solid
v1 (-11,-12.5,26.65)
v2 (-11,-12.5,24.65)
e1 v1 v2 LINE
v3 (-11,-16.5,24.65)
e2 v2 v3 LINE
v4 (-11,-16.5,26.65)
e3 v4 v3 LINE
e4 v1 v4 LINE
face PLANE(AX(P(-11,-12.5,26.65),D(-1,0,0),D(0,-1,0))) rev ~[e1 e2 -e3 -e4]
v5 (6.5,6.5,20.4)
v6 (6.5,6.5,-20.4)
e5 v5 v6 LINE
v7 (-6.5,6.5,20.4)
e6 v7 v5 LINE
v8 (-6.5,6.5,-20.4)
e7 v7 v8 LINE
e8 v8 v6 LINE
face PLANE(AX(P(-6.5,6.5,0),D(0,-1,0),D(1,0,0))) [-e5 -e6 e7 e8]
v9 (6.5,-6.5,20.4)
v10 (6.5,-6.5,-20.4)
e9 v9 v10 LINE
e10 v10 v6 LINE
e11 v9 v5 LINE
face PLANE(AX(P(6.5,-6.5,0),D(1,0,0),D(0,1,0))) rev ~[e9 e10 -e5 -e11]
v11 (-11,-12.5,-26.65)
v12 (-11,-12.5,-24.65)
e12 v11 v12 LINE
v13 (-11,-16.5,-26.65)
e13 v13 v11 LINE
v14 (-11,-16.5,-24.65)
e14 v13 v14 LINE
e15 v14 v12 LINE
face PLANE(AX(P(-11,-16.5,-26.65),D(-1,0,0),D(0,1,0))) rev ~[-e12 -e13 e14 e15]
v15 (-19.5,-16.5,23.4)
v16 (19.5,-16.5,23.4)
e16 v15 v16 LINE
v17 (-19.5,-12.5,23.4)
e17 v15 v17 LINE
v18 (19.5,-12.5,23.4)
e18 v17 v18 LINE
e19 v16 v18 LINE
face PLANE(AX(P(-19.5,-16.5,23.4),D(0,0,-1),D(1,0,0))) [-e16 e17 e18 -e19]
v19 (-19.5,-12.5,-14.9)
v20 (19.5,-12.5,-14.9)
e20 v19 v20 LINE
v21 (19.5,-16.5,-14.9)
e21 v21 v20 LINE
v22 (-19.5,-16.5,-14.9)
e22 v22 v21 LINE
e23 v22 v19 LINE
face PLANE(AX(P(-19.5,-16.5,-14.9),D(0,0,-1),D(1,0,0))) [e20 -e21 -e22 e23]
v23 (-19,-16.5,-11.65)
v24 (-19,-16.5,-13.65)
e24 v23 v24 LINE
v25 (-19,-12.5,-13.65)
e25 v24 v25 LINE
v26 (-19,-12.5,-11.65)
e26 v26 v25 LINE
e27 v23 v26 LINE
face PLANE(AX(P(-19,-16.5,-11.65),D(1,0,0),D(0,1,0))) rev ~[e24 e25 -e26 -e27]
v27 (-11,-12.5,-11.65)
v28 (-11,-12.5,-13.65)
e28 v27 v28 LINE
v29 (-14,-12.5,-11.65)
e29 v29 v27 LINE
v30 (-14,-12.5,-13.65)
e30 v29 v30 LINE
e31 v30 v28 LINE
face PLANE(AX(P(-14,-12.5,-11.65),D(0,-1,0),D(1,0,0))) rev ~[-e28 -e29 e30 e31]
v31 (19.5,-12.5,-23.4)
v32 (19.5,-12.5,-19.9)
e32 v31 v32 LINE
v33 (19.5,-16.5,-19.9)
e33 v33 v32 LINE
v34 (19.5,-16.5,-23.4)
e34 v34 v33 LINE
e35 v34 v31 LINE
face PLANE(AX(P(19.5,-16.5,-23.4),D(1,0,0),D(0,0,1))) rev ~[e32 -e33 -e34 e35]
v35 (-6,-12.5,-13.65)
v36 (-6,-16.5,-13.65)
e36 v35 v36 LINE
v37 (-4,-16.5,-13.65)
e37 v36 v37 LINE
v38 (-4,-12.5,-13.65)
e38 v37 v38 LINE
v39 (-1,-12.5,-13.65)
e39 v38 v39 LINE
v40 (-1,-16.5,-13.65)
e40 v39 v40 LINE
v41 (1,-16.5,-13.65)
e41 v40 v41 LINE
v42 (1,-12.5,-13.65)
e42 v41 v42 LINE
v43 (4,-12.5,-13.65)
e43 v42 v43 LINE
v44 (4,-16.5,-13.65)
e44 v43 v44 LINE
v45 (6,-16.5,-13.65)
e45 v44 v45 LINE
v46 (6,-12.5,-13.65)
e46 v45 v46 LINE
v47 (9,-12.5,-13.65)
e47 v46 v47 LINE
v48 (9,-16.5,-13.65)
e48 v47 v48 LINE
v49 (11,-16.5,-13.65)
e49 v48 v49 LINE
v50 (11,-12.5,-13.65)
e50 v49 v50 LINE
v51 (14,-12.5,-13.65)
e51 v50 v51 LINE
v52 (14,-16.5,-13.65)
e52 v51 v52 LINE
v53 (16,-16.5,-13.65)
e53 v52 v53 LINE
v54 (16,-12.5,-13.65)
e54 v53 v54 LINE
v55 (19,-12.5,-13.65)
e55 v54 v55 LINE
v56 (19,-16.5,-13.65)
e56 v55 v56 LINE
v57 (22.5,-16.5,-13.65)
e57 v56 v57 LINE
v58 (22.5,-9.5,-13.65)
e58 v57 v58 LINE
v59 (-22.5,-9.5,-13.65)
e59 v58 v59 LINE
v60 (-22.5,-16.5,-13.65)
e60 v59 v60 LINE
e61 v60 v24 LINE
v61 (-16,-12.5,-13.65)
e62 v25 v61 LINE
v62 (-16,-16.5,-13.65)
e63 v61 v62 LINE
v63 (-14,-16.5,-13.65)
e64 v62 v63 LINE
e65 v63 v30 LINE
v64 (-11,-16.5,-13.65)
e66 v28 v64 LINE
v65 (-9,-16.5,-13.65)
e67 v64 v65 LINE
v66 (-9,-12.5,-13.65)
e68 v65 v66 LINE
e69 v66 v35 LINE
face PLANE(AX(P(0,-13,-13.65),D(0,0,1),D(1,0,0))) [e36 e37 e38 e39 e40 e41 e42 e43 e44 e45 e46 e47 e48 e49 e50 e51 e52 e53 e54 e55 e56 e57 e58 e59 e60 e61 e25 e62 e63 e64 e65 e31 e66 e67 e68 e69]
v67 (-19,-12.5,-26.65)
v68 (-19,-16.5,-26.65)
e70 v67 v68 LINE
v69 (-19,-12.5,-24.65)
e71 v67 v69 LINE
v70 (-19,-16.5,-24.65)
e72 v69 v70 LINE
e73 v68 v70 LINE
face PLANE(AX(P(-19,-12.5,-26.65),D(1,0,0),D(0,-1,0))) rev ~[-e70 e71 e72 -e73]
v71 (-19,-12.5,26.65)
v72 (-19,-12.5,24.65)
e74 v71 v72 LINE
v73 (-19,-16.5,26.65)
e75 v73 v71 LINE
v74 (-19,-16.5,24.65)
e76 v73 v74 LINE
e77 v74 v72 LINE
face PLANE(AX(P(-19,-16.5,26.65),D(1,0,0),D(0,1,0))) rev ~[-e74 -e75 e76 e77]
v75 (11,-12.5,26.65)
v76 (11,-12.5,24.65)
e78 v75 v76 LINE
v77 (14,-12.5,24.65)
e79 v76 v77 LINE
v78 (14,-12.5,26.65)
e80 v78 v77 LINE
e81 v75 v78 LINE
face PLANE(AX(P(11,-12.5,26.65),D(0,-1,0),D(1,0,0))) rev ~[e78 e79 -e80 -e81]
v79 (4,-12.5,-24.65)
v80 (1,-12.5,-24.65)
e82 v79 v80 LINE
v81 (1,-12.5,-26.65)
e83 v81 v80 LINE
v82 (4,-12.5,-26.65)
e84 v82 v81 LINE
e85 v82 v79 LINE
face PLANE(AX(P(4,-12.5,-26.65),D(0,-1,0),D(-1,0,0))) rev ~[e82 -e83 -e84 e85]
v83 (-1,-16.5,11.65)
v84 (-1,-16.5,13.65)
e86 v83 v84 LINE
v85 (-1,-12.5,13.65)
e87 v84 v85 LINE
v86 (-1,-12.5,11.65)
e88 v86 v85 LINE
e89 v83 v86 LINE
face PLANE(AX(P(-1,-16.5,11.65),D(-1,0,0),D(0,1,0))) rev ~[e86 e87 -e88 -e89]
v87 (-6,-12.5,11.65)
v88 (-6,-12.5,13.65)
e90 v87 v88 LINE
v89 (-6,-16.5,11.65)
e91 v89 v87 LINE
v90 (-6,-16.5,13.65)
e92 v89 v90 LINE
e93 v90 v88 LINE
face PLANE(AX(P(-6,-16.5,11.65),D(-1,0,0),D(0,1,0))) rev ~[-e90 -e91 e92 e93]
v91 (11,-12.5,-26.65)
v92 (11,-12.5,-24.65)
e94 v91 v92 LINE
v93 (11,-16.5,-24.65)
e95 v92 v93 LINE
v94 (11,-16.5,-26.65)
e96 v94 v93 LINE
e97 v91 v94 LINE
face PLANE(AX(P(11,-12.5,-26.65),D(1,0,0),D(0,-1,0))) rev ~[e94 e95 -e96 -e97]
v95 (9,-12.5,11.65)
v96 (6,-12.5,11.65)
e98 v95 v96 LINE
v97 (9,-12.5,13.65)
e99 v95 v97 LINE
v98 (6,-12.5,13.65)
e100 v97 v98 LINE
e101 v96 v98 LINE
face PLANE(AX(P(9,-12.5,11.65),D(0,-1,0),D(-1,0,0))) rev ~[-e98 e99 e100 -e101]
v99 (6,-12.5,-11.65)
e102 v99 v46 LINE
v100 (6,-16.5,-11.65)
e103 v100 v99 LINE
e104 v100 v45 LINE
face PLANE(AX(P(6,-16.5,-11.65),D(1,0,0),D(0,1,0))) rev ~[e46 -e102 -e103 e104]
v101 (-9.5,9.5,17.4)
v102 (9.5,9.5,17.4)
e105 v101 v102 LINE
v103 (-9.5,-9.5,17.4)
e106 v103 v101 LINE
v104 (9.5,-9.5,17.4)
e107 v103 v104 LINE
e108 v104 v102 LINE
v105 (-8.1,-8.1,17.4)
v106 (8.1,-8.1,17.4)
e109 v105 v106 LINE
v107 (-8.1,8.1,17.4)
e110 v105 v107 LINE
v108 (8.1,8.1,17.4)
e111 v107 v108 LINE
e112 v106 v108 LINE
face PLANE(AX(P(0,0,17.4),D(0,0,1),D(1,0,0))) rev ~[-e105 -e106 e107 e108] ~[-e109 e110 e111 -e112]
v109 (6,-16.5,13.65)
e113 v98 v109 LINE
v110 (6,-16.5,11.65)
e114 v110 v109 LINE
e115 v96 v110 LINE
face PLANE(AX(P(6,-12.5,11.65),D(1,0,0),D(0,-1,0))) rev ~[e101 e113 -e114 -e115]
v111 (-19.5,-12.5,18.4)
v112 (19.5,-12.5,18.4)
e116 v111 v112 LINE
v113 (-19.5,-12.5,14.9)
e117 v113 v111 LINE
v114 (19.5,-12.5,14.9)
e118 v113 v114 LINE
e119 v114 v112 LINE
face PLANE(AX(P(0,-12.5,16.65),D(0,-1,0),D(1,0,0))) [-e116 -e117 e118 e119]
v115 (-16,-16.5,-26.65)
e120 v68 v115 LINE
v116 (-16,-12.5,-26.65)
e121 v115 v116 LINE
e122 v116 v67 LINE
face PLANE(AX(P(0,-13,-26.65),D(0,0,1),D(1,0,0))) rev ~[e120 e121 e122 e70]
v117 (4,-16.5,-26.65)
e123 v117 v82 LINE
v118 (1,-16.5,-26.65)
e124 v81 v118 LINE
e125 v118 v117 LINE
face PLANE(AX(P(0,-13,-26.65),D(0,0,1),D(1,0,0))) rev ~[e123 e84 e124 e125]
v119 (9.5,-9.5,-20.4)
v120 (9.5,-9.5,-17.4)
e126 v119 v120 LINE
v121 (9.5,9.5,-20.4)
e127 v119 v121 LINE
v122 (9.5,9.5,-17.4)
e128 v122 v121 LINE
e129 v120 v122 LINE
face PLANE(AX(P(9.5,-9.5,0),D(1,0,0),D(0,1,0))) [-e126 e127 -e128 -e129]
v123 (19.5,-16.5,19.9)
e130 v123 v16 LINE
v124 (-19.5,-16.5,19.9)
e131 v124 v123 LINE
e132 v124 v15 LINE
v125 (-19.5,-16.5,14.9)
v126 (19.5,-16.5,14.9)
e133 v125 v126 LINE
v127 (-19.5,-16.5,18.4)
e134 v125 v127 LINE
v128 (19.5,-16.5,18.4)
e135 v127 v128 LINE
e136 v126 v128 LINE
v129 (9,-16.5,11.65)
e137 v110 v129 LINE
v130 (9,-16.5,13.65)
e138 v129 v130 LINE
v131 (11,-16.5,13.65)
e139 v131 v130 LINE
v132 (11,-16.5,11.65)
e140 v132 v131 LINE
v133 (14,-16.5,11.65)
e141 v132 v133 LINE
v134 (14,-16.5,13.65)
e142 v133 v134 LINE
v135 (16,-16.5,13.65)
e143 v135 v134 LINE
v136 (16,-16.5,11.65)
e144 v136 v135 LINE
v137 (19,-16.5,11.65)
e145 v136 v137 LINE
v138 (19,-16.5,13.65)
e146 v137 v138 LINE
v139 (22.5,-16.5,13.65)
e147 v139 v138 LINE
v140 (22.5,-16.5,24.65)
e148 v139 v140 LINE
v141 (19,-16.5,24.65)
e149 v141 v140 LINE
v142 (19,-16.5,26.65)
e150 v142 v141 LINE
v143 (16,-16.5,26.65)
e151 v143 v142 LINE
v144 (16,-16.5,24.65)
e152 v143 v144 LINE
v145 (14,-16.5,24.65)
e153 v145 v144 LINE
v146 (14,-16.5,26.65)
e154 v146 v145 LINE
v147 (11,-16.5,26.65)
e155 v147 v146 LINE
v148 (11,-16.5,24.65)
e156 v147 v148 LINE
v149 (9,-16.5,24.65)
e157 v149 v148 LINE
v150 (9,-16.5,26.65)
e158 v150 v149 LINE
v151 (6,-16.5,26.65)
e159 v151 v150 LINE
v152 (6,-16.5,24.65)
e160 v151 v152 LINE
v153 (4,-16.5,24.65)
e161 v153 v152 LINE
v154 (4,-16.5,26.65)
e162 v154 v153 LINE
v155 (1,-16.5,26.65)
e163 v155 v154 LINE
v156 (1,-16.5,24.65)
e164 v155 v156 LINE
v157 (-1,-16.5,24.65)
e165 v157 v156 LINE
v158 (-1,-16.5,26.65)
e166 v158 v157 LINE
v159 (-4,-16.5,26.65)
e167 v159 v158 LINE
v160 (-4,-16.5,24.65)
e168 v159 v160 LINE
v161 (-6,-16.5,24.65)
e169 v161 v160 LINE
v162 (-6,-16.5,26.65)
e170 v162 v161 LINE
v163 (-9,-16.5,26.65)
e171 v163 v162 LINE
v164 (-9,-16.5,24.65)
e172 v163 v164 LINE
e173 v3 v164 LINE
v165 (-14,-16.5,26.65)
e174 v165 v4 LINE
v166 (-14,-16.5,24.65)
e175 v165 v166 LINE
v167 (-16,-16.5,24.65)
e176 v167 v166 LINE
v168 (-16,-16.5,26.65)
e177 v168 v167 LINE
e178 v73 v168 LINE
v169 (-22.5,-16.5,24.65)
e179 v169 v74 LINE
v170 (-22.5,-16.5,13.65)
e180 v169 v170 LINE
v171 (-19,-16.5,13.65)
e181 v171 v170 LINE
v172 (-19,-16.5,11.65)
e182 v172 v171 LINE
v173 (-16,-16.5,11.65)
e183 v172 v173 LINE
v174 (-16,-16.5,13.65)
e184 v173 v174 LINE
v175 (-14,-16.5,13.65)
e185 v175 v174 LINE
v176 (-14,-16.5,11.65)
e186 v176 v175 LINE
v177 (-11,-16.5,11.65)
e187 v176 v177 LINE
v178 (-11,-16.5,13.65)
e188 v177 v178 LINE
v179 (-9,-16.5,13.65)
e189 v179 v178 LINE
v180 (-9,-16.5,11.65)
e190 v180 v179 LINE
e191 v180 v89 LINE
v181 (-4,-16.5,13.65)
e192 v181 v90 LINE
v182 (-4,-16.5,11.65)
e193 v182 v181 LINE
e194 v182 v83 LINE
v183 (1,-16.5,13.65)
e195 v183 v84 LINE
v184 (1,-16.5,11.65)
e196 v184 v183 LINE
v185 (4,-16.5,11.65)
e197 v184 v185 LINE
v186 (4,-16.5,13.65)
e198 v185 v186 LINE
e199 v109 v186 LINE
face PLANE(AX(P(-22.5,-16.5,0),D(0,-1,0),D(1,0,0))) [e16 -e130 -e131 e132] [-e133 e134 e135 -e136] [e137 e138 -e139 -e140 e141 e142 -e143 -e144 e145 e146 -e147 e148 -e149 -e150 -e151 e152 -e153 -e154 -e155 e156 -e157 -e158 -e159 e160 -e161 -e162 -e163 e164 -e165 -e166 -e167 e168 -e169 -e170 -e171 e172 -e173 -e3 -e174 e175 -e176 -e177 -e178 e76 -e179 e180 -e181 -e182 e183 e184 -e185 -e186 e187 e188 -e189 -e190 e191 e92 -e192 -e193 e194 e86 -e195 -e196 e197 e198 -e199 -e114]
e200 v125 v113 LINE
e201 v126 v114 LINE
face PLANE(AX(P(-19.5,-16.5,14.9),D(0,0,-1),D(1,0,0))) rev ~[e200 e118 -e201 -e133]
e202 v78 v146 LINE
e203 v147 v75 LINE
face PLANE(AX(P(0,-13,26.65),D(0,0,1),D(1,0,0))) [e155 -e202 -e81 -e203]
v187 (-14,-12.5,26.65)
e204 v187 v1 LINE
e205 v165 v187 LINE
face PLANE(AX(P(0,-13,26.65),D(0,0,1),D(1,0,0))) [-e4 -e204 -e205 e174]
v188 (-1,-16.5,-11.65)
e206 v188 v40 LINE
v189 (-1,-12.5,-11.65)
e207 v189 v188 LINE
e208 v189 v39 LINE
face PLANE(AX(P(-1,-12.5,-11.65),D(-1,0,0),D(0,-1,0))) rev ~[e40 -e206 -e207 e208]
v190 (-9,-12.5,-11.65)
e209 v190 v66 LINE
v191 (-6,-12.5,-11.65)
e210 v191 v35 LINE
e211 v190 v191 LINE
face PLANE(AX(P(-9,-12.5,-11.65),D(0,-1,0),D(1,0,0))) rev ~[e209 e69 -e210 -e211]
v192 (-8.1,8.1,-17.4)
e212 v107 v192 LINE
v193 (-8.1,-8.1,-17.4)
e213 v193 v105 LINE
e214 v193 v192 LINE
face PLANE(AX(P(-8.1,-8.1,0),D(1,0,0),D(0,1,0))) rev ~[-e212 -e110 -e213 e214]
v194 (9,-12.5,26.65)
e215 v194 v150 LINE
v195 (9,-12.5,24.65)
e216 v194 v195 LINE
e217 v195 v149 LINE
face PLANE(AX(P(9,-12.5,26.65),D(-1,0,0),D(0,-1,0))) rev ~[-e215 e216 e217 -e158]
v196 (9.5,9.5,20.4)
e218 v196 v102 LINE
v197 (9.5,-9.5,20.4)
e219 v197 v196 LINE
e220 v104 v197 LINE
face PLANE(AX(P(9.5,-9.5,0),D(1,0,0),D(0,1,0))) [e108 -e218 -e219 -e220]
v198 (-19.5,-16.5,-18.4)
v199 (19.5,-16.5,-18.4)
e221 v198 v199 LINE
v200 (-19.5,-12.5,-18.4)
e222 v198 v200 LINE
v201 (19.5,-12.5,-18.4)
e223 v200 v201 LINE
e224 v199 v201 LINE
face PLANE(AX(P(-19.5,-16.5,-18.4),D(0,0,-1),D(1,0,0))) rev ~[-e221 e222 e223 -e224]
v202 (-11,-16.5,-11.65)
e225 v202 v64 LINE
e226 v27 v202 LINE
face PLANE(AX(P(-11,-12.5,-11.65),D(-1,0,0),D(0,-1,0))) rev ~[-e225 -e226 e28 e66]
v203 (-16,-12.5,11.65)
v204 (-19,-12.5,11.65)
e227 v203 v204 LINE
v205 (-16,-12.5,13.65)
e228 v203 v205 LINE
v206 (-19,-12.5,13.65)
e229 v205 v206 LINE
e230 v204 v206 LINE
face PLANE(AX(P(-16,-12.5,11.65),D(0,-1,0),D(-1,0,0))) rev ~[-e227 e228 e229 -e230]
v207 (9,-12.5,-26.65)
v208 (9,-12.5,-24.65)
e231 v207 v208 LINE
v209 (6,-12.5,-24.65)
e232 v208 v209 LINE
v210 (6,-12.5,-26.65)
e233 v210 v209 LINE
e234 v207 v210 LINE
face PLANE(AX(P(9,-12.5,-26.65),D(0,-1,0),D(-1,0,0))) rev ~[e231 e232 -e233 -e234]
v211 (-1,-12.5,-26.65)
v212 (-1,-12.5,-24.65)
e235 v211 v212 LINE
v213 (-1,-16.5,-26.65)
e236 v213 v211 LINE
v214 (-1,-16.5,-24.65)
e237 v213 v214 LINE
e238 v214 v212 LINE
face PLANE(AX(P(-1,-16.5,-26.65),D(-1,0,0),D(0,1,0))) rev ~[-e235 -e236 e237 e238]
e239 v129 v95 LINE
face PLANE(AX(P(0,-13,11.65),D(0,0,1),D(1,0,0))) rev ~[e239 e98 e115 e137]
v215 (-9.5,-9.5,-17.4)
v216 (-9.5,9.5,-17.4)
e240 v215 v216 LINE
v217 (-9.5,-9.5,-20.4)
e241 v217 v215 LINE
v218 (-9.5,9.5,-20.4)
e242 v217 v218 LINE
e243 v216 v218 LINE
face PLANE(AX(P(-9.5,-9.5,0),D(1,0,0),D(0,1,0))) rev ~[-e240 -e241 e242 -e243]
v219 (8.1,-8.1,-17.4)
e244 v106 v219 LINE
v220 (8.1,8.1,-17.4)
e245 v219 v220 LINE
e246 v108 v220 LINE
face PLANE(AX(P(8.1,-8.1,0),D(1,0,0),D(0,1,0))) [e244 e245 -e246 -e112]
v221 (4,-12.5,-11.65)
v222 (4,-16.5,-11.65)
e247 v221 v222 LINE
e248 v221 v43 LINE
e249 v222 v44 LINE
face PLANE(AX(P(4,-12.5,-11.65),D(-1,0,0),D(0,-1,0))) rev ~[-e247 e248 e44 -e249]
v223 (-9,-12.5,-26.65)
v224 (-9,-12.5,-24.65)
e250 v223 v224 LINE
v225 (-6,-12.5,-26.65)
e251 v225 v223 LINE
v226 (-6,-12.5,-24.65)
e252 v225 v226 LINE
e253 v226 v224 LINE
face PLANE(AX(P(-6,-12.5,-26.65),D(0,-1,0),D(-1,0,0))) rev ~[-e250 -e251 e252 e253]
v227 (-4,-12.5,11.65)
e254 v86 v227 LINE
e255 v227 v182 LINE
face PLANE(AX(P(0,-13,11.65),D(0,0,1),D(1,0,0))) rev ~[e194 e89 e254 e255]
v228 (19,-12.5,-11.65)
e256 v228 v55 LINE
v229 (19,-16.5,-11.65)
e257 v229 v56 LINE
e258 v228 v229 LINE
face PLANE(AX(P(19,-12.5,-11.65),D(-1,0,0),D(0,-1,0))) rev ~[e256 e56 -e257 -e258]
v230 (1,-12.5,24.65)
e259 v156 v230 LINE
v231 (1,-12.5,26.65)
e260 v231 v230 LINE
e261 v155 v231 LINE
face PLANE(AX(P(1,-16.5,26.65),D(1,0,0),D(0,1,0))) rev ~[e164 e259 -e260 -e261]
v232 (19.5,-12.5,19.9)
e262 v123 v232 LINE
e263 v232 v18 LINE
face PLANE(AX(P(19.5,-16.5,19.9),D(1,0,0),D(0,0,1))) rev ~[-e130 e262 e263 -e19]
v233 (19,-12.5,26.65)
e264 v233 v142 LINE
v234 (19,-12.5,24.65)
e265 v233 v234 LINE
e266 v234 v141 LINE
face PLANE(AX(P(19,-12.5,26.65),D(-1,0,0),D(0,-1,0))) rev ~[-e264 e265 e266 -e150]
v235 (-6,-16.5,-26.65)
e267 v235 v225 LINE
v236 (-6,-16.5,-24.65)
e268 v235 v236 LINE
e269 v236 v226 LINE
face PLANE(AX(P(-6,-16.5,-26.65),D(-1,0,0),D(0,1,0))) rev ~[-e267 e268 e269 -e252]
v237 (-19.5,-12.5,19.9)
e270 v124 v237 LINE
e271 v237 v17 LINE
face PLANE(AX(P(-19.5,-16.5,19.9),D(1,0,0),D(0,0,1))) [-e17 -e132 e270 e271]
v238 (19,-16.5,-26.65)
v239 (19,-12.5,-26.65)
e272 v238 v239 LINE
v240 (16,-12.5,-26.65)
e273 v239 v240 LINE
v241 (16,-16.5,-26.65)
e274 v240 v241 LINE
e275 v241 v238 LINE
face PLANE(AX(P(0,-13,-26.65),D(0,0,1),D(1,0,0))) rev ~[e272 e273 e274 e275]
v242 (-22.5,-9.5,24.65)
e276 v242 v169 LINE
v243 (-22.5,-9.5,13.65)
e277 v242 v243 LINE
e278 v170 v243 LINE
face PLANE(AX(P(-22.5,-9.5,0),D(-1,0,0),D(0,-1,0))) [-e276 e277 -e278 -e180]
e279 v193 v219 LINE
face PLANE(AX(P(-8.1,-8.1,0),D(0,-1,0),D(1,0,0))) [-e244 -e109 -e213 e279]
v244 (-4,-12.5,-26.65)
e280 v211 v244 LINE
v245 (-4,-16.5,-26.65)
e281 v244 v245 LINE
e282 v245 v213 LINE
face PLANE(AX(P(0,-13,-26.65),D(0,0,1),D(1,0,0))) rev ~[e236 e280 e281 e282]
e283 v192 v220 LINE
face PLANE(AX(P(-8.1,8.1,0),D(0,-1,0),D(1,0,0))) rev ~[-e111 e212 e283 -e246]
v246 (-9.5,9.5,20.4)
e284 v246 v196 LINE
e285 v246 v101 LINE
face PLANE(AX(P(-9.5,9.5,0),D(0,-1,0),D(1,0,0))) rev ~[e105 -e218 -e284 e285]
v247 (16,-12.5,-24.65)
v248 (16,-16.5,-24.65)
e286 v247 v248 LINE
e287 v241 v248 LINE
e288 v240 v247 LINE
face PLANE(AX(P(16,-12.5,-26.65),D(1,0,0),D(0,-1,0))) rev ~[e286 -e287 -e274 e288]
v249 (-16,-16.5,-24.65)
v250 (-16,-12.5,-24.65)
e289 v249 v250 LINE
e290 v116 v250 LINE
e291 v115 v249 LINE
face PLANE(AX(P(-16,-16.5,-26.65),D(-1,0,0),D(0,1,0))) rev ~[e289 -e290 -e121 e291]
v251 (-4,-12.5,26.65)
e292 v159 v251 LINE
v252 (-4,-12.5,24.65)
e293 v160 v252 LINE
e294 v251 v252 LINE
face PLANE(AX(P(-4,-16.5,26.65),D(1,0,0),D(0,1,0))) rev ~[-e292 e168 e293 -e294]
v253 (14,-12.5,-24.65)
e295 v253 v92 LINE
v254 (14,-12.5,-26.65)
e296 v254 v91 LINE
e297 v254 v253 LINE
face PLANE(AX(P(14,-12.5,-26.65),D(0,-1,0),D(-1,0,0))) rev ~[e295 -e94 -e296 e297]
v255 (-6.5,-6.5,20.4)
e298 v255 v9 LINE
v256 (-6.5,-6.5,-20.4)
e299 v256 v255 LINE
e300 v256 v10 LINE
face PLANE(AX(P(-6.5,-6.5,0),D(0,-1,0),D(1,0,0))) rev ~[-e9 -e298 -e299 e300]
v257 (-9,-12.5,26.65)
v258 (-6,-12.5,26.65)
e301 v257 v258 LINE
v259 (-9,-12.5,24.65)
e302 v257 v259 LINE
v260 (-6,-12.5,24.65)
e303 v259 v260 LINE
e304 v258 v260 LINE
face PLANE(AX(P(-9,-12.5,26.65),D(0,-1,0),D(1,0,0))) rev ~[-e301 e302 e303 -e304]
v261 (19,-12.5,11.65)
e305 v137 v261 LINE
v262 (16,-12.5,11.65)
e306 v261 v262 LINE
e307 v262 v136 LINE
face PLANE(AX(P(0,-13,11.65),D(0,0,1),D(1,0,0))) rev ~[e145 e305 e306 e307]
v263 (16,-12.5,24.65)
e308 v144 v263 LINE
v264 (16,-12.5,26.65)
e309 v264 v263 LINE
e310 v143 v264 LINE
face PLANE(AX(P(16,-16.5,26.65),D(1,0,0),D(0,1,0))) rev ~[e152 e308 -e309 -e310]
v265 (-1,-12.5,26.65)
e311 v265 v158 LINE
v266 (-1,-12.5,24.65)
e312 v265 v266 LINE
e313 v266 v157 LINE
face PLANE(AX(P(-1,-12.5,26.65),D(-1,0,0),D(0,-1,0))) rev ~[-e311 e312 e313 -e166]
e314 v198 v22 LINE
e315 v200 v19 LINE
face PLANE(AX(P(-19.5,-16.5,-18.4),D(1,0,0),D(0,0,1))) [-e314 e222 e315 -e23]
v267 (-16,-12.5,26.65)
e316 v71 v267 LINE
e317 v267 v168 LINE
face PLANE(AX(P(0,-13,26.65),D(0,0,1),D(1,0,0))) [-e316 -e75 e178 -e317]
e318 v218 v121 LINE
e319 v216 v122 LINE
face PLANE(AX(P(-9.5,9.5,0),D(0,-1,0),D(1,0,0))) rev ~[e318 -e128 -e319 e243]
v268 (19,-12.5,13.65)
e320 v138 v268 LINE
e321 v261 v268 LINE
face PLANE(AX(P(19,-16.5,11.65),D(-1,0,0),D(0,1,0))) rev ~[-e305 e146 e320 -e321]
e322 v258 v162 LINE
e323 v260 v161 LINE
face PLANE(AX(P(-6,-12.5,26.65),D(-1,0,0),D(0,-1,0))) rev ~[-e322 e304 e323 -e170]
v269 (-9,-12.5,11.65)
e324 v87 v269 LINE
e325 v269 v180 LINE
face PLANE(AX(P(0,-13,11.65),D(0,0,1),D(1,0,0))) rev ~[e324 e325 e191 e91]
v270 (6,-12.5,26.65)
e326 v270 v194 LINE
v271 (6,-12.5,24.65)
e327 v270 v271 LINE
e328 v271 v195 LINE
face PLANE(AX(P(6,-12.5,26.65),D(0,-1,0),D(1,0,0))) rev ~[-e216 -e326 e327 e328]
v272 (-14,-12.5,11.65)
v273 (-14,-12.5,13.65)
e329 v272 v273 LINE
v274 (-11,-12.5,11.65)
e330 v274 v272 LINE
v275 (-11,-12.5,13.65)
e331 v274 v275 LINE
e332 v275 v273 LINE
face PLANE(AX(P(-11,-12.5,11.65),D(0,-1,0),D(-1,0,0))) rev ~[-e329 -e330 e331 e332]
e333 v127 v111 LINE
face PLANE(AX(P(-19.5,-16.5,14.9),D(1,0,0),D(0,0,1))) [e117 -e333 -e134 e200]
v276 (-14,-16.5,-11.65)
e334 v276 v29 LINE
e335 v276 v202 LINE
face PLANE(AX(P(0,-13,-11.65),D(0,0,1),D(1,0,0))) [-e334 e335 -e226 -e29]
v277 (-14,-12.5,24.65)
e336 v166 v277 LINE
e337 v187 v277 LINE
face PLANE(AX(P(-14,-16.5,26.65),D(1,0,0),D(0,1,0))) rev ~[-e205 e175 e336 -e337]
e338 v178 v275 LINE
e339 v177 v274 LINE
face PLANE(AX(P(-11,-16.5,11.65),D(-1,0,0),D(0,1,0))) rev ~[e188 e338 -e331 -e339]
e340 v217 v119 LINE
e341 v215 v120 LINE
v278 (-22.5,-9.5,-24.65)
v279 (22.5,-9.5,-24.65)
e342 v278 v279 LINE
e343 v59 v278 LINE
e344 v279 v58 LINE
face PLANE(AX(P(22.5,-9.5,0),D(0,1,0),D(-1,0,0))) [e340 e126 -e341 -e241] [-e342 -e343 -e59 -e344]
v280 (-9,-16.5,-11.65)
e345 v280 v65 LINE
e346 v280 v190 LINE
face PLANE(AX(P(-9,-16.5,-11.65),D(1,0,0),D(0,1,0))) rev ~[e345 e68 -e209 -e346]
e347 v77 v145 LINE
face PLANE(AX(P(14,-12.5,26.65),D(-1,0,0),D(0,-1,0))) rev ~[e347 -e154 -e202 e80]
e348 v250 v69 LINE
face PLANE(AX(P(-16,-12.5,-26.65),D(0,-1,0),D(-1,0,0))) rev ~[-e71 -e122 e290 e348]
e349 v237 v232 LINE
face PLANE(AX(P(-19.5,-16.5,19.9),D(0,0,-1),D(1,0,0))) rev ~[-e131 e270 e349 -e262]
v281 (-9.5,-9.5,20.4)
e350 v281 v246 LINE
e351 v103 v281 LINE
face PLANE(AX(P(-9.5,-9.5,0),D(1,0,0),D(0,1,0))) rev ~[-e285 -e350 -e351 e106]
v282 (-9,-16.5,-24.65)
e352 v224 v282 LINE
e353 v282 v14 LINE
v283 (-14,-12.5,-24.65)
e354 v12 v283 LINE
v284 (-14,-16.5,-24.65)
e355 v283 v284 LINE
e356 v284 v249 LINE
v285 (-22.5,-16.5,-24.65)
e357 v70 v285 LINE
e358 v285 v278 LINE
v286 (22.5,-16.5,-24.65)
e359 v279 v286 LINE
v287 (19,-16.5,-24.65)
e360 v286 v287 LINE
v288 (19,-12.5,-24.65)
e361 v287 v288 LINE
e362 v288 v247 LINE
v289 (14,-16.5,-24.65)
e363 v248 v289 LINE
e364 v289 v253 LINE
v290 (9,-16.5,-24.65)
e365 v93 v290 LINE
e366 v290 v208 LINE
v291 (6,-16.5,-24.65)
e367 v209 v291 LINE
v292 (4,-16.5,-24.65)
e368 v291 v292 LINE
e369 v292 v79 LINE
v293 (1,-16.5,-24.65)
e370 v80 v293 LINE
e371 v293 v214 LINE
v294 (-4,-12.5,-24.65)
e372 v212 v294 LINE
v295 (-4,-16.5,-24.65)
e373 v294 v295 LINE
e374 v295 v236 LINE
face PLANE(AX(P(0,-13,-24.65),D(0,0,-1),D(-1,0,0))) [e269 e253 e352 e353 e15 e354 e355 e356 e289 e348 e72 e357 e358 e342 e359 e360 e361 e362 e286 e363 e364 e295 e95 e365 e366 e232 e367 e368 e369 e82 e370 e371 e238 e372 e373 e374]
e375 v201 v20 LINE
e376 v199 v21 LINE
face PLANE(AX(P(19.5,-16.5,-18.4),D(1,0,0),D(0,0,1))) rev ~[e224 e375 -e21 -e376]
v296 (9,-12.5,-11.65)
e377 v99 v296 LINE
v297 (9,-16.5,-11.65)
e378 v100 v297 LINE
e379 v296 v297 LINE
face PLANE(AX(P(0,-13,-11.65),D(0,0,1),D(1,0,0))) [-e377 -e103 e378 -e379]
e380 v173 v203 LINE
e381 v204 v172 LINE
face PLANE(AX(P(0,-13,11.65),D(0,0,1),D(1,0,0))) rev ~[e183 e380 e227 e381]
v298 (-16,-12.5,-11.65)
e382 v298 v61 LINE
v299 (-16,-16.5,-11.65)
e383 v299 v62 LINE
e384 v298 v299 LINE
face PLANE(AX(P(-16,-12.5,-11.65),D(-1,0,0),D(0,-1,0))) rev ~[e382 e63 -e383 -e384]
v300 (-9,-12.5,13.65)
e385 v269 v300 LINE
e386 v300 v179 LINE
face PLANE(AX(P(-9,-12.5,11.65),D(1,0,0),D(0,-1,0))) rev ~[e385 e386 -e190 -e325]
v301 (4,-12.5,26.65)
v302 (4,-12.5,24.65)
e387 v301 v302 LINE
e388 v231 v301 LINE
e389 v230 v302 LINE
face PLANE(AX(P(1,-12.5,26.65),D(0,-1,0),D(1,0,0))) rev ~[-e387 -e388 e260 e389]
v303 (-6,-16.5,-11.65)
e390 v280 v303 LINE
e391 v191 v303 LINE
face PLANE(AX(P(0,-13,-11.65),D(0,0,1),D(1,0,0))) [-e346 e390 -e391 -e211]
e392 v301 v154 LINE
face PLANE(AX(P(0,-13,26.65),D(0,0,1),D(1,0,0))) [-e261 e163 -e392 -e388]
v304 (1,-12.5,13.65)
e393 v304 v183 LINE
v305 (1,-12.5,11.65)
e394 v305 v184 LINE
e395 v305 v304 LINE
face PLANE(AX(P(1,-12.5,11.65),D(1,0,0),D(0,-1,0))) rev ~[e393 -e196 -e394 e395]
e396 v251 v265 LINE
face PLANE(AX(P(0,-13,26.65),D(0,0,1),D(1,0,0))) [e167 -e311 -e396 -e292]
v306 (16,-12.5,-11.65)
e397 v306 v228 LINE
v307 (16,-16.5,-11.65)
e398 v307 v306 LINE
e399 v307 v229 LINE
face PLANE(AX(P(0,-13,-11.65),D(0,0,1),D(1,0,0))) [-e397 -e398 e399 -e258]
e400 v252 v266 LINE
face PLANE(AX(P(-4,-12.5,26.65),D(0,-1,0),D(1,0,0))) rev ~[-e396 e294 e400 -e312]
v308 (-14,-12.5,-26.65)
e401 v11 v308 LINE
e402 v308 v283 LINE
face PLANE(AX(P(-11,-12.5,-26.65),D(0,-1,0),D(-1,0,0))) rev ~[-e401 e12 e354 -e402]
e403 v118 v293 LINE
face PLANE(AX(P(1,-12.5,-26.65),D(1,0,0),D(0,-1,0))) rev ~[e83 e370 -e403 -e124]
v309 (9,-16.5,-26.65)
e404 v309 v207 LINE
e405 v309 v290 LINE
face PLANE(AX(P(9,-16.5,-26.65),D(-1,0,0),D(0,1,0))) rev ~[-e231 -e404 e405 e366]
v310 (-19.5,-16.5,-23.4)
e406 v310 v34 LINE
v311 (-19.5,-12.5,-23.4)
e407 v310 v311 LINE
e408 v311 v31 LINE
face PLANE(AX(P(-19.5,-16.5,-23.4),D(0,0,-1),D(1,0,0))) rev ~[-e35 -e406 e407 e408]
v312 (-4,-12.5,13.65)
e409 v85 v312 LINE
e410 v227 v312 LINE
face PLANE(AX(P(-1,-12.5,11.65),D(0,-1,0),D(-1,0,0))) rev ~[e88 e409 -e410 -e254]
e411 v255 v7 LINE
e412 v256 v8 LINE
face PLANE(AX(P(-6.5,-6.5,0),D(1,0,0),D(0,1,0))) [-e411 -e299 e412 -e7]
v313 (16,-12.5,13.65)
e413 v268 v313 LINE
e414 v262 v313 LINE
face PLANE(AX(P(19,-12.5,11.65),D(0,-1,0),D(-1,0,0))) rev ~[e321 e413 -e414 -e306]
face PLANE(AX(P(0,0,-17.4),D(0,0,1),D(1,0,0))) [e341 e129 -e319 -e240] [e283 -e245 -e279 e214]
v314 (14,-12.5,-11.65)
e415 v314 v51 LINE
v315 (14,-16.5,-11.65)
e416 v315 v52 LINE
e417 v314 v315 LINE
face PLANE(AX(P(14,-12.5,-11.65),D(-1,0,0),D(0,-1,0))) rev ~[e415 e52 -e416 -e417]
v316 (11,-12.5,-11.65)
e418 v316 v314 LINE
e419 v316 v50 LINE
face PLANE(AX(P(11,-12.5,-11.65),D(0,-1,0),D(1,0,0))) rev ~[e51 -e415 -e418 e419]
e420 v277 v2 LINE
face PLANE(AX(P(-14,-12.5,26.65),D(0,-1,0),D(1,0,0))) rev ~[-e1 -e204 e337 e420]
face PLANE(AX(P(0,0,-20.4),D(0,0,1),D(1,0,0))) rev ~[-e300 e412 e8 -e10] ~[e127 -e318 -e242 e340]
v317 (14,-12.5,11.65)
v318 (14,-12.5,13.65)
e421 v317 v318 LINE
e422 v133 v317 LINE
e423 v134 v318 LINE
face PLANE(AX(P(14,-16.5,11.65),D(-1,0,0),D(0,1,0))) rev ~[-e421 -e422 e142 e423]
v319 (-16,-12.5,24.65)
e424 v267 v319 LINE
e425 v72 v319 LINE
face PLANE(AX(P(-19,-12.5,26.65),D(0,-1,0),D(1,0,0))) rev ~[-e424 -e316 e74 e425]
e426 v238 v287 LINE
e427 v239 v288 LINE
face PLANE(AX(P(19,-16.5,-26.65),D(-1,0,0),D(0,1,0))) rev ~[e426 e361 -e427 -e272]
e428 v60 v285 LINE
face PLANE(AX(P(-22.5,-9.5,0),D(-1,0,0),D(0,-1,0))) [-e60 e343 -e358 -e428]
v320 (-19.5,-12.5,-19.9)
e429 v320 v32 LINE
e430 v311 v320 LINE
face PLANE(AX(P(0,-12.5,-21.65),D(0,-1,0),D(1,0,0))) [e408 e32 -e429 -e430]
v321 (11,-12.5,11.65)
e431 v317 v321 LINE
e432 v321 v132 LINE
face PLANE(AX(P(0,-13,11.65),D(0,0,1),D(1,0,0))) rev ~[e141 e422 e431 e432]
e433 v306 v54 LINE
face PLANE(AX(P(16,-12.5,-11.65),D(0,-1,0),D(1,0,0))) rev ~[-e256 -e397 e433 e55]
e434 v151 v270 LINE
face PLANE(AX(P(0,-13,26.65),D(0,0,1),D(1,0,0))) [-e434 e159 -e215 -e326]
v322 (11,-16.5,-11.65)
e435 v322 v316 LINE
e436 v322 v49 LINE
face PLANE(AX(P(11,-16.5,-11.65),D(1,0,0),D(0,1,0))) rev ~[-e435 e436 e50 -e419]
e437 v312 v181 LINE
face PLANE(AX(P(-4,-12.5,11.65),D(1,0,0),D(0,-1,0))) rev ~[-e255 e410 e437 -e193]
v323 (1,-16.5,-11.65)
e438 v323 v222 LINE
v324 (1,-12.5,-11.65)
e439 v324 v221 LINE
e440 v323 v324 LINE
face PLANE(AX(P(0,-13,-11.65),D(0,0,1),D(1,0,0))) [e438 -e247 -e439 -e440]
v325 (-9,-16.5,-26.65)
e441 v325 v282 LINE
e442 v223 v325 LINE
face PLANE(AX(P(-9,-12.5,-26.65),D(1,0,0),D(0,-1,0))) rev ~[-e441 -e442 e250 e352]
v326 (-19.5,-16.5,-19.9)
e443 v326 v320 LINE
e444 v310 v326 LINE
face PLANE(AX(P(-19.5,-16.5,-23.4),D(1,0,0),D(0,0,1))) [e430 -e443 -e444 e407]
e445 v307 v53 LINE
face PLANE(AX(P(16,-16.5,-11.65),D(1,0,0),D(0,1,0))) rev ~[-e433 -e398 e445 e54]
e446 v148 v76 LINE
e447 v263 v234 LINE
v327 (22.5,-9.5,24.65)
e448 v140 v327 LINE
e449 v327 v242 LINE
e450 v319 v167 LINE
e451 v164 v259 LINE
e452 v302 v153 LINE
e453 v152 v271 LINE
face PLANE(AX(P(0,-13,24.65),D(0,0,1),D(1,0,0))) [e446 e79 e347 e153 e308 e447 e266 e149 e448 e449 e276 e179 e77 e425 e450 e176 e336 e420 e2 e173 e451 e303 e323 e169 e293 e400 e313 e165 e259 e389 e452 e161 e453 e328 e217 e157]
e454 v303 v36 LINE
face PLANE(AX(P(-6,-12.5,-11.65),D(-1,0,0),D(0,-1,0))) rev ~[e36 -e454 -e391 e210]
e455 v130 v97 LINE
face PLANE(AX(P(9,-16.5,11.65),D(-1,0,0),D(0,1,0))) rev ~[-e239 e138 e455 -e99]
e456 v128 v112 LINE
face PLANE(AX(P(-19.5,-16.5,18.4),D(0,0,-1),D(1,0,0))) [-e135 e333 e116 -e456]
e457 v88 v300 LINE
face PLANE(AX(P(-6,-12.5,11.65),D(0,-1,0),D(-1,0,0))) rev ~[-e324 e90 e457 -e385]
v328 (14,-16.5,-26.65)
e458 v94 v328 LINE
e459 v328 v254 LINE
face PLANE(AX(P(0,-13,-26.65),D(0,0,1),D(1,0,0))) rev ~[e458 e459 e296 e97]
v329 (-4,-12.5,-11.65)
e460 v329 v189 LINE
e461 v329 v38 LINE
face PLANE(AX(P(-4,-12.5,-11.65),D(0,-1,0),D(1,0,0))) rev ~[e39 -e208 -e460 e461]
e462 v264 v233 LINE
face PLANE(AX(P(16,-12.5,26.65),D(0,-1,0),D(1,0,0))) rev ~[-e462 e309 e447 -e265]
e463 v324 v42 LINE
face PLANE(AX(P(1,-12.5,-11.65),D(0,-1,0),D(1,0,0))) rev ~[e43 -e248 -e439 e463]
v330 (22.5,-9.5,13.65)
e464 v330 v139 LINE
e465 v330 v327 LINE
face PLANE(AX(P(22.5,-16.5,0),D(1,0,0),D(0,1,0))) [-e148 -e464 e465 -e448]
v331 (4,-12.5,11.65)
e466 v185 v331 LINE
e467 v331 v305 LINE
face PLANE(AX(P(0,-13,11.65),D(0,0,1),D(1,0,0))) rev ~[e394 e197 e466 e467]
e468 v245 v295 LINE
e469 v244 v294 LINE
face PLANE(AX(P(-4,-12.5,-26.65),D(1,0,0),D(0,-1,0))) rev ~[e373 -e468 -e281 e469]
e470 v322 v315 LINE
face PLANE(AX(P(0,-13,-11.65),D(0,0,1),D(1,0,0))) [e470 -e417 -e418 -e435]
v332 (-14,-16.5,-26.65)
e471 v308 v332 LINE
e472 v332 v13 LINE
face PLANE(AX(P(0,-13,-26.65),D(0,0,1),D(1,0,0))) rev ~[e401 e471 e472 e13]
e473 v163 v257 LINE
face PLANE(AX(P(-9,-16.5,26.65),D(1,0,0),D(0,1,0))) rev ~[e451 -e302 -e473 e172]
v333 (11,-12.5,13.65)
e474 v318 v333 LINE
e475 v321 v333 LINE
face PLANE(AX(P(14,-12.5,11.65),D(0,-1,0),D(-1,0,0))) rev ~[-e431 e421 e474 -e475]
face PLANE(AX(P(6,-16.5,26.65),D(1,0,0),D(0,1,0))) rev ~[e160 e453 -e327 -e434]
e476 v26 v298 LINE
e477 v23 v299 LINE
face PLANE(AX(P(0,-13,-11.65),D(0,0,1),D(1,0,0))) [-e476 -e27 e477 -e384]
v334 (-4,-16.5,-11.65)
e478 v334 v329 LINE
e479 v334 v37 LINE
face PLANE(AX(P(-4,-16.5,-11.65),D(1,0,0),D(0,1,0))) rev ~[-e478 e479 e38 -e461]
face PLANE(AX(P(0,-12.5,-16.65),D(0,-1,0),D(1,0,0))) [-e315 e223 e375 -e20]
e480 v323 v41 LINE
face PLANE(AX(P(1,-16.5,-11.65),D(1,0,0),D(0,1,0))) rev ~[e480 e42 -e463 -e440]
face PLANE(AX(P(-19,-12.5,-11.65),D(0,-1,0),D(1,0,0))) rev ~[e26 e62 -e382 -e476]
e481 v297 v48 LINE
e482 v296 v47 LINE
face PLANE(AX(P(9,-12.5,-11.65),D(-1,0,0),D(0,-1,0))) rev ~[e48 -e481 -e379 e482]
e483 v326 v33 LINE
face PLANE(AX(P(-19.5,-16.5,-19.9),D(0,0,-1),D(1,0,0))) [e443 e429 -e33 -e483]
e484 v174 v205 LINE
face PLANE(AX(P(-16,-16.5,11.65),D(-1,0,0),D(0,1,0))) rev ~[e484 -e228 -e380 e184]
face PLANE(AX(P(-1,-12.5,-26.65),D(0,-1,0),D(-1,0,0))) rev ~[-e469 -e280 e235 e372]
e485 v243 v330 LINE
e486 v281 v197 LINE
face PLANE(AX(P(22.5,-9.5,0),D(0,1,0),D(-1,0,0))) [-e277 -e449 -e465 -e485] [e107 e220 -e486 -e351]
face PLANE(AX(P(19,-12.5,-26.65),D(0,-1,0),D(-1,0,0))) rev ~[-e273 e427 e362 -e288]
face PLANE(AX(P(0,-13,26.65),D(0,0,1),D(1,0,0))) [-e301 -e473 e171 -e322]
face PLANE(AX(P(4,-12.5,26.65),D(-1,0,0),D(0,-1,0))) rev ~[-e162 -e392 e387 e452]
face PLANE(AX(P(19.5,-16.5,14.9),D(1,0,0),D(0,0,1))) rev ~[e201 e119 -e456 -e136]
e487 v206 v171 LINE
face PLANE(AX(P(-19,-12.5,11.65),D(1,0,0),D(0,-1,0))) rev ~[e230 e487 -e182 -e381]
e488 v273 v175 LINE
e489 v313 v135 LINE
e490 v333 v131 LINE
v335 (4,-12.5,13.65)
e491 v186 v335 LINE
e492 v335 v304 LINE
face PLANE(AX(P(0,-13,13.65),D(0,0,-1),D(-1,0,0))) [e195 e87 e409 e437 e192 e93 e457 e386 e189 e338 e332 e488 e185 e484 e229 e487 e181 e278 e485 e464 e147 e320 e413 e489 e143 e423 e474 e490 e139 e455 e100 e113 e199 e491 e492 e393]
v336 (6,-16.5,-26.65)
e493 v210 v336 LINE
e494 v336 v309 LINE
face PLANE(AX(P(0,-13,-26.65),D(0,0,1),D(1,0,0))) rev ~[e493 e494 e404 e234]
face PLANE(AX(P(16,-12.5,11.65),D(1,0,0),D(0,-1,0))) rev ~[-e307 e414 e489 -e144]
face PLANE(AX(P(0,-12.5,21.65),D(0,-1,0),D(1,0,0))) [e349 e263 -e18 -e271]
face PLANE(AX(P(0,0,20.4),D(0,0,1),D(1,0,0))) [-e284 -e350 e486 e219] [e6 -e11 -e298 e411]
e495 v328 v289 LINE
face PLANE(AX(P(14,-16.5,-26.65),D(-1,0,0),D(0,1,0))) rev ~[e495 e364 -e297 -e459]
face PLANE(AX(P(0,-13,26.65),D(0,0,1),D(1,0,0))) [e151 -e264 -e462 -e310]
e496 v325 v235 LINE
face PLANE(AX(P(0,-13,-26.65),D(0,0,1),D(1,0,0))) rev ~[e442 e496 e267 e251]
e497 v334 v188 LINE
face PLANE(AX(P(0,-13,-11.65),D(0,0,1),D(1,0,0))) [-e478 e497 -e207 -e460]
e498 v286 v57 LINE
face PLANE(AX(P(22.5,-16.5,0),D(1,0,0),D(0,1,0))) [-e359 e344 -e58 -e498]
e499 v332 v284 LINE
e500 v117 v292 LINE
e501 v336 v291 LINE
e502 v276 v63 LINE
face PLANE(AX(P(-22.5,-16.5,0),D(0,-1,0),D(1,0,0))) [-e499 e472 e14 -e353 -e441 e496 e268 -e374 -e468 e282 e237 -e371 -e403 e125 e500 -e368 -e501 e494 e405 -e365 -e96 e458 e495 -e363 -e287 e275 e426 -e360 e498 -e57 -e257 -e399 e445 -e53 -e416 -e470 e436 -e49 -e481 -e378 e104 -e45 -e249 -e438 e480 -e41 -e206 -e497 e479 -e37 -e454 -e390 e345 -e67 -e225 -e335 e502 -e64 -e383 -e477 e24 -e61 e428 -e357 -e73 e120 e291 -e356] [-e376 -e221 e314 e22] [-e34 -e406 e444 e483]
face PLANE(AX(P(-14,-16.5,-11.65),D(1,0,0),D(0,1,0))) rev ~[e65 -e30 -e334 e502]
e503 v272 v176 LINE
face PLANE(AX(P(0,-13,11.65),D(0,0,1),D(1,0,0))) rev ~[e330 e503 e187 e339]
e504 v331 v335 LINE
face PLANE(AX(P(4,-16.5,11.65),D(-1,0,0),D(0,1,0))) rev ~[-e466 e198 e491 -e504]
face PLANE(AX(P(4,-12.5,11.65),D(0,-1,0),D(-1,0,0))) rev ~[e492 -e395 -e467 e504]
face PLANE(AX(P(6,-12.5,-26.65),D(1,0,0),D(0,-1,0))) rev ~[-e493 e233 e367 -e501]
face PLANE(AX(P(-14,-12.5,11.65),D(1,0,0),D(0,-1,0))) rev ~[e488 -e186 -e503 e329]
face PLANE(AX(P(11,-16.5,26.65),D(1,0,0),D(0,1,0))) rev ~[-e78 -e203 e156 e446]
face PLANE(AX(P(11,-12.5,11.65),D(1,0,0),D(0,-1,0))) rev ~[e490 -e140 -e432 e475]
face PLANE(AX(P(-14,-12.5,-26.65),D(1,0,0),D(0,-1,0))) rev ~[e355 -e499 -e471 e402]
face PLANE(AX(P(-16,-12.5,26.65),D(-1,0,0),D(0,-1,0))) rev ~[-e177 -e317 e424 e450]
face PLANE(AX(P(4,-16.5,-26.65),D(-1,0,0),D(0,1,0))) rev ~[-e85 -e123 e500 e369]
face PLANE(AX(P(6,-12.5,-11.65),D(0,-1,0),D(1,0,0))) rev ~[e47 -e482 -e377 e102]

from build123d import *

# Parameters (mm, degrees)
SKETCH_1_W           = 19
SKETCH_1_H           = 19
SKETCH_1_W_2         = 13
SKETCH_1_H_2         = 13
EXTRUDE_2_DEPTH      = 20.4
SKETCH_1_3_W         = 19
SKETCH_1_3_H         = 19
SKETCH_1_3_W_2       = 16.2
SKETCH_1_3_H_2       = 16.2
CUT_EXTRUDE_1_DEPTH  = 17.4
EXTRUDE_4_DEPTH      = 26.65
CUT_EXTRUDE_4_DEPTH  = 11.65
CUT_EXTRUDE_9_DEPTH  = 2
CUT_EXTRUDE_10_DEPTH = 2
CUT_EXTRUDE_11_DEPTH = 2
CUT_EXTRUDE_12_DEPTH = 2
SKETCH_12_W          = 39
SKETCH_12_H          = 3.5
CUT_EXTRUDE_13_DEPTH = 4


with BuildPart() as part:
    # 草图1 → 凸台-拉伸2 (new, symmetric)
    with BuildSketch(Plane.XY):
        Rectangle(SKETCH_1_W, SKETCH_1_H)
        Rectangle(SKETCH_1_W_2, SKETCH_1_H_2, mode=Mode.SUBTRACT)
    extrude(amount=EXTRUDE_2_DEPTH, both=True)

    # 草图1<3> → 切除-拉伸1 (cut, symmetric)
    with BuildSketch(Plane.XY):
        Rectangle(SKETCH_1_3_W, SKETCH_1_3_H)
        Rectangle(SKETCH_1_3_W_2, SKETCH_1_3_H_2, mode=Mode.SUBTRACT)
    extrude(amount=CUT_EXTRUDE_1_DEPTH, both=True, mode=Mode.SUBTRACT)

    # 草图2 → 凸台-拉伸4 (add, symmetric)
    with BuildSketch(Plane.XY):
        Polygon((22.5, -9.5), (0, -9.5), (-22.5, -9.5), (-22.5, -16.5), (22.5, -16.5), align=None)
    extrude(amount=EXTRUDE_4_DEPTH, both=True)

    # 草图2<6> → 切除-拉伸4 (cut, symmetric)
    with BuildSketch(Plane.XY):
        Polygon((22.5, -9.5), (0, -9.5), (-22.5, -9.5), (-22.5, -16.5), (22.5, -16.5), align=None)
    extrude(amount=CUT_EXTRUDE_4_DEPTH, both=True, mode=Mode.SUBTRACT)

    # 草图4 → 切除-拉伸9 (cut)
    with BuildSketch(Plane(origin=(0, 0, -26.65), x_dir=(-1, 0, 0), z_dir=(0, 0, -1))):
        Polygon((-6, -12.5), (-6, -16.5), (-4, -16.5), (-4, -12.5), (-2.5, -12.5), (-1, -12.5), (-1, -16.5), (1, -16.5), (1, -12.5), (2.5, -12.5), (4, -12.5), (4, -16.5), (6, -16.5), (6, -12.5), (7.5, -12.5), (9, -12.5), (9, -16.5), (11, -16.5), (11, -12.5), (12.5, -12.5), (14, -12.5), (14, -16.5), (16, -16.5), (16, -12.5), (17.5, -12.5), (19, -12.5), (19, -16.5), (22.5, -16.5), (22.5, -9.5), (-22.5, -9.5), (-22.5, -16.5), (-19, -16.5), (-19, -12.5), (-17.5, -12.5), (-16, -12.5), (-16, -16.5), (-14, -16.5), (-14, -12.5), (-12.5, -12.5), (-11, -12.5), (-11, -16.5), (-9, -16.5), (-9, -12.5), (-7.5, -12.5), align=None)
    extrude(amount=-CUT_EXTRUDE_9_DEPTH, mode=Mode.SUBTRACT)

    # 草图9 → 切除-拉伸10 (cut)
    with BuildSketch(Plane.XY.offset(-11.65)):
        Polygon((-4, -12.5), (-1, -12.5), (-1, -16.5), (1, -16.5), (1, -12.5), (4, -12.5), (4, -16.5), (6, -16.5), (6, -12.5), (9, -12.5), (9, -16.5), (11, -16.5), (11, -12.5), (14, -12.5), (14, -16.5), (16, -16.5), (16, -12.5), (19, -12.5), (19, -16.5), (22.5, -16.5), (22.5, -9.5), (-22.5, -9.5), (-22.5, -16.5), (-19, -16.5), (-19, -12.5), (-16, -12.5), (-16, -16.5), (-14, -16.5), (-14, -12.5), (-11, -12.5), (-11, -16.5), (-9, -16.5), (-9, -12.5), (-6, -12.5), (-6, -16.5), (-4, -16.5), align=None)
    extrude(amount=-CUT_EXTRUDE_10_DEPTH, mode=Mode.SUBTRACT)

    # 草图10 → 切除-拉伸11 (cut)
    with BuildSketch(Plane(origin=(0, 0, 11.65), x_dir=(-1, 0, 0), z_dir=(0, 0, -1))):
        Polygon((1, -16.5), (1, -12.5), (4, -12.5), (4, -16.5), (6, -16.5), (6, -12.5), (9, -12.5), (9, -16.5), (11, -16.5), (11, -12.5), (14, -12.5), (14, -16.5), (16, -16.5), (16, -12.5), (19, -12.5), (19, -16.5), (22.5, -16.5), (22.5, -9.5), (-22.5, -9.5), (-22.5, -16.5), (-19, -16.5), (-19, -12.5), (-16, -12.5), (-16, -16.5), (-14, -16.5), (-14, -12.5), (-11, -12.5), (-11, -16.5), (-9, -16.5), (-9, -12.5), (-6, -12.5), (-6, -16.5), (-4, -16.5), (-4, -12.5), (-1, -12.5), (-1, -16.5), align=None)
    extrude(amount=-CUT_EXTRUDE_11_DEPTH, mode=Mode.SUBTRACT)

    # 草图11 → 切除-拉伸12 (cut)
    with BuildSketch(Plane.XY.offset(26.65)):
        Polygon((-1, -12.5), (-1, -16.5), (1, -16.5), (1, -12.5), (4, -12.5), (4, -16.5), (6, -16.5), (6, -12.5), (9, -12.5), (9, -16.5), (11, -16.5), (11, -12.5), (14, -12.5), (14, -16.5), (16, -16.5), (16, -12.5), (19, -12.5), (19, -16.5), (22.5, -16.5), (22.5, -9.5), (-22.5, -9.5), (-22.5, -16.5), (-19, -16.5), (-19, -12.5), (-16, -12.5), (-16, -16.5), (-14, -16.5), (-14, -12.5), (-11, -12.5), (-11, -16.5), (-9, -16.5), (-9, -12.5), (-6, -12.5), (-6, -16.5), (-4, -16.5), (-4, -12.5), align=None)
    extrude(amount=-CUT_EXTRUDE_12_DEPTH, mode=Mode.SUBTRACT)

    # 草图12 → 切除-拉伸13 (cut)
    with BuildSketch(Plane.XZ.offset(16.5)):
        with Locations((0, 21.65)):
            Rectangle(SKETCH_12_W, SKETCH_12_H)
        with Locations((0, -21.65)):
            Rectangle(SKETCH_12_W, SKETCH_12_H)
        with Locations((0, -16.65)):
            Rectangle(SKETCH_12_W, SKETCH_12_H)
        with Locations((0, 16.65)):
            Rectangle(SKETCH_12_W, SKETCH_12_H)
    extrude(amount=-CUT_EXTRUDE_13_DEPTH, mode=Mode.SUBTRACT)


solid = part.part
